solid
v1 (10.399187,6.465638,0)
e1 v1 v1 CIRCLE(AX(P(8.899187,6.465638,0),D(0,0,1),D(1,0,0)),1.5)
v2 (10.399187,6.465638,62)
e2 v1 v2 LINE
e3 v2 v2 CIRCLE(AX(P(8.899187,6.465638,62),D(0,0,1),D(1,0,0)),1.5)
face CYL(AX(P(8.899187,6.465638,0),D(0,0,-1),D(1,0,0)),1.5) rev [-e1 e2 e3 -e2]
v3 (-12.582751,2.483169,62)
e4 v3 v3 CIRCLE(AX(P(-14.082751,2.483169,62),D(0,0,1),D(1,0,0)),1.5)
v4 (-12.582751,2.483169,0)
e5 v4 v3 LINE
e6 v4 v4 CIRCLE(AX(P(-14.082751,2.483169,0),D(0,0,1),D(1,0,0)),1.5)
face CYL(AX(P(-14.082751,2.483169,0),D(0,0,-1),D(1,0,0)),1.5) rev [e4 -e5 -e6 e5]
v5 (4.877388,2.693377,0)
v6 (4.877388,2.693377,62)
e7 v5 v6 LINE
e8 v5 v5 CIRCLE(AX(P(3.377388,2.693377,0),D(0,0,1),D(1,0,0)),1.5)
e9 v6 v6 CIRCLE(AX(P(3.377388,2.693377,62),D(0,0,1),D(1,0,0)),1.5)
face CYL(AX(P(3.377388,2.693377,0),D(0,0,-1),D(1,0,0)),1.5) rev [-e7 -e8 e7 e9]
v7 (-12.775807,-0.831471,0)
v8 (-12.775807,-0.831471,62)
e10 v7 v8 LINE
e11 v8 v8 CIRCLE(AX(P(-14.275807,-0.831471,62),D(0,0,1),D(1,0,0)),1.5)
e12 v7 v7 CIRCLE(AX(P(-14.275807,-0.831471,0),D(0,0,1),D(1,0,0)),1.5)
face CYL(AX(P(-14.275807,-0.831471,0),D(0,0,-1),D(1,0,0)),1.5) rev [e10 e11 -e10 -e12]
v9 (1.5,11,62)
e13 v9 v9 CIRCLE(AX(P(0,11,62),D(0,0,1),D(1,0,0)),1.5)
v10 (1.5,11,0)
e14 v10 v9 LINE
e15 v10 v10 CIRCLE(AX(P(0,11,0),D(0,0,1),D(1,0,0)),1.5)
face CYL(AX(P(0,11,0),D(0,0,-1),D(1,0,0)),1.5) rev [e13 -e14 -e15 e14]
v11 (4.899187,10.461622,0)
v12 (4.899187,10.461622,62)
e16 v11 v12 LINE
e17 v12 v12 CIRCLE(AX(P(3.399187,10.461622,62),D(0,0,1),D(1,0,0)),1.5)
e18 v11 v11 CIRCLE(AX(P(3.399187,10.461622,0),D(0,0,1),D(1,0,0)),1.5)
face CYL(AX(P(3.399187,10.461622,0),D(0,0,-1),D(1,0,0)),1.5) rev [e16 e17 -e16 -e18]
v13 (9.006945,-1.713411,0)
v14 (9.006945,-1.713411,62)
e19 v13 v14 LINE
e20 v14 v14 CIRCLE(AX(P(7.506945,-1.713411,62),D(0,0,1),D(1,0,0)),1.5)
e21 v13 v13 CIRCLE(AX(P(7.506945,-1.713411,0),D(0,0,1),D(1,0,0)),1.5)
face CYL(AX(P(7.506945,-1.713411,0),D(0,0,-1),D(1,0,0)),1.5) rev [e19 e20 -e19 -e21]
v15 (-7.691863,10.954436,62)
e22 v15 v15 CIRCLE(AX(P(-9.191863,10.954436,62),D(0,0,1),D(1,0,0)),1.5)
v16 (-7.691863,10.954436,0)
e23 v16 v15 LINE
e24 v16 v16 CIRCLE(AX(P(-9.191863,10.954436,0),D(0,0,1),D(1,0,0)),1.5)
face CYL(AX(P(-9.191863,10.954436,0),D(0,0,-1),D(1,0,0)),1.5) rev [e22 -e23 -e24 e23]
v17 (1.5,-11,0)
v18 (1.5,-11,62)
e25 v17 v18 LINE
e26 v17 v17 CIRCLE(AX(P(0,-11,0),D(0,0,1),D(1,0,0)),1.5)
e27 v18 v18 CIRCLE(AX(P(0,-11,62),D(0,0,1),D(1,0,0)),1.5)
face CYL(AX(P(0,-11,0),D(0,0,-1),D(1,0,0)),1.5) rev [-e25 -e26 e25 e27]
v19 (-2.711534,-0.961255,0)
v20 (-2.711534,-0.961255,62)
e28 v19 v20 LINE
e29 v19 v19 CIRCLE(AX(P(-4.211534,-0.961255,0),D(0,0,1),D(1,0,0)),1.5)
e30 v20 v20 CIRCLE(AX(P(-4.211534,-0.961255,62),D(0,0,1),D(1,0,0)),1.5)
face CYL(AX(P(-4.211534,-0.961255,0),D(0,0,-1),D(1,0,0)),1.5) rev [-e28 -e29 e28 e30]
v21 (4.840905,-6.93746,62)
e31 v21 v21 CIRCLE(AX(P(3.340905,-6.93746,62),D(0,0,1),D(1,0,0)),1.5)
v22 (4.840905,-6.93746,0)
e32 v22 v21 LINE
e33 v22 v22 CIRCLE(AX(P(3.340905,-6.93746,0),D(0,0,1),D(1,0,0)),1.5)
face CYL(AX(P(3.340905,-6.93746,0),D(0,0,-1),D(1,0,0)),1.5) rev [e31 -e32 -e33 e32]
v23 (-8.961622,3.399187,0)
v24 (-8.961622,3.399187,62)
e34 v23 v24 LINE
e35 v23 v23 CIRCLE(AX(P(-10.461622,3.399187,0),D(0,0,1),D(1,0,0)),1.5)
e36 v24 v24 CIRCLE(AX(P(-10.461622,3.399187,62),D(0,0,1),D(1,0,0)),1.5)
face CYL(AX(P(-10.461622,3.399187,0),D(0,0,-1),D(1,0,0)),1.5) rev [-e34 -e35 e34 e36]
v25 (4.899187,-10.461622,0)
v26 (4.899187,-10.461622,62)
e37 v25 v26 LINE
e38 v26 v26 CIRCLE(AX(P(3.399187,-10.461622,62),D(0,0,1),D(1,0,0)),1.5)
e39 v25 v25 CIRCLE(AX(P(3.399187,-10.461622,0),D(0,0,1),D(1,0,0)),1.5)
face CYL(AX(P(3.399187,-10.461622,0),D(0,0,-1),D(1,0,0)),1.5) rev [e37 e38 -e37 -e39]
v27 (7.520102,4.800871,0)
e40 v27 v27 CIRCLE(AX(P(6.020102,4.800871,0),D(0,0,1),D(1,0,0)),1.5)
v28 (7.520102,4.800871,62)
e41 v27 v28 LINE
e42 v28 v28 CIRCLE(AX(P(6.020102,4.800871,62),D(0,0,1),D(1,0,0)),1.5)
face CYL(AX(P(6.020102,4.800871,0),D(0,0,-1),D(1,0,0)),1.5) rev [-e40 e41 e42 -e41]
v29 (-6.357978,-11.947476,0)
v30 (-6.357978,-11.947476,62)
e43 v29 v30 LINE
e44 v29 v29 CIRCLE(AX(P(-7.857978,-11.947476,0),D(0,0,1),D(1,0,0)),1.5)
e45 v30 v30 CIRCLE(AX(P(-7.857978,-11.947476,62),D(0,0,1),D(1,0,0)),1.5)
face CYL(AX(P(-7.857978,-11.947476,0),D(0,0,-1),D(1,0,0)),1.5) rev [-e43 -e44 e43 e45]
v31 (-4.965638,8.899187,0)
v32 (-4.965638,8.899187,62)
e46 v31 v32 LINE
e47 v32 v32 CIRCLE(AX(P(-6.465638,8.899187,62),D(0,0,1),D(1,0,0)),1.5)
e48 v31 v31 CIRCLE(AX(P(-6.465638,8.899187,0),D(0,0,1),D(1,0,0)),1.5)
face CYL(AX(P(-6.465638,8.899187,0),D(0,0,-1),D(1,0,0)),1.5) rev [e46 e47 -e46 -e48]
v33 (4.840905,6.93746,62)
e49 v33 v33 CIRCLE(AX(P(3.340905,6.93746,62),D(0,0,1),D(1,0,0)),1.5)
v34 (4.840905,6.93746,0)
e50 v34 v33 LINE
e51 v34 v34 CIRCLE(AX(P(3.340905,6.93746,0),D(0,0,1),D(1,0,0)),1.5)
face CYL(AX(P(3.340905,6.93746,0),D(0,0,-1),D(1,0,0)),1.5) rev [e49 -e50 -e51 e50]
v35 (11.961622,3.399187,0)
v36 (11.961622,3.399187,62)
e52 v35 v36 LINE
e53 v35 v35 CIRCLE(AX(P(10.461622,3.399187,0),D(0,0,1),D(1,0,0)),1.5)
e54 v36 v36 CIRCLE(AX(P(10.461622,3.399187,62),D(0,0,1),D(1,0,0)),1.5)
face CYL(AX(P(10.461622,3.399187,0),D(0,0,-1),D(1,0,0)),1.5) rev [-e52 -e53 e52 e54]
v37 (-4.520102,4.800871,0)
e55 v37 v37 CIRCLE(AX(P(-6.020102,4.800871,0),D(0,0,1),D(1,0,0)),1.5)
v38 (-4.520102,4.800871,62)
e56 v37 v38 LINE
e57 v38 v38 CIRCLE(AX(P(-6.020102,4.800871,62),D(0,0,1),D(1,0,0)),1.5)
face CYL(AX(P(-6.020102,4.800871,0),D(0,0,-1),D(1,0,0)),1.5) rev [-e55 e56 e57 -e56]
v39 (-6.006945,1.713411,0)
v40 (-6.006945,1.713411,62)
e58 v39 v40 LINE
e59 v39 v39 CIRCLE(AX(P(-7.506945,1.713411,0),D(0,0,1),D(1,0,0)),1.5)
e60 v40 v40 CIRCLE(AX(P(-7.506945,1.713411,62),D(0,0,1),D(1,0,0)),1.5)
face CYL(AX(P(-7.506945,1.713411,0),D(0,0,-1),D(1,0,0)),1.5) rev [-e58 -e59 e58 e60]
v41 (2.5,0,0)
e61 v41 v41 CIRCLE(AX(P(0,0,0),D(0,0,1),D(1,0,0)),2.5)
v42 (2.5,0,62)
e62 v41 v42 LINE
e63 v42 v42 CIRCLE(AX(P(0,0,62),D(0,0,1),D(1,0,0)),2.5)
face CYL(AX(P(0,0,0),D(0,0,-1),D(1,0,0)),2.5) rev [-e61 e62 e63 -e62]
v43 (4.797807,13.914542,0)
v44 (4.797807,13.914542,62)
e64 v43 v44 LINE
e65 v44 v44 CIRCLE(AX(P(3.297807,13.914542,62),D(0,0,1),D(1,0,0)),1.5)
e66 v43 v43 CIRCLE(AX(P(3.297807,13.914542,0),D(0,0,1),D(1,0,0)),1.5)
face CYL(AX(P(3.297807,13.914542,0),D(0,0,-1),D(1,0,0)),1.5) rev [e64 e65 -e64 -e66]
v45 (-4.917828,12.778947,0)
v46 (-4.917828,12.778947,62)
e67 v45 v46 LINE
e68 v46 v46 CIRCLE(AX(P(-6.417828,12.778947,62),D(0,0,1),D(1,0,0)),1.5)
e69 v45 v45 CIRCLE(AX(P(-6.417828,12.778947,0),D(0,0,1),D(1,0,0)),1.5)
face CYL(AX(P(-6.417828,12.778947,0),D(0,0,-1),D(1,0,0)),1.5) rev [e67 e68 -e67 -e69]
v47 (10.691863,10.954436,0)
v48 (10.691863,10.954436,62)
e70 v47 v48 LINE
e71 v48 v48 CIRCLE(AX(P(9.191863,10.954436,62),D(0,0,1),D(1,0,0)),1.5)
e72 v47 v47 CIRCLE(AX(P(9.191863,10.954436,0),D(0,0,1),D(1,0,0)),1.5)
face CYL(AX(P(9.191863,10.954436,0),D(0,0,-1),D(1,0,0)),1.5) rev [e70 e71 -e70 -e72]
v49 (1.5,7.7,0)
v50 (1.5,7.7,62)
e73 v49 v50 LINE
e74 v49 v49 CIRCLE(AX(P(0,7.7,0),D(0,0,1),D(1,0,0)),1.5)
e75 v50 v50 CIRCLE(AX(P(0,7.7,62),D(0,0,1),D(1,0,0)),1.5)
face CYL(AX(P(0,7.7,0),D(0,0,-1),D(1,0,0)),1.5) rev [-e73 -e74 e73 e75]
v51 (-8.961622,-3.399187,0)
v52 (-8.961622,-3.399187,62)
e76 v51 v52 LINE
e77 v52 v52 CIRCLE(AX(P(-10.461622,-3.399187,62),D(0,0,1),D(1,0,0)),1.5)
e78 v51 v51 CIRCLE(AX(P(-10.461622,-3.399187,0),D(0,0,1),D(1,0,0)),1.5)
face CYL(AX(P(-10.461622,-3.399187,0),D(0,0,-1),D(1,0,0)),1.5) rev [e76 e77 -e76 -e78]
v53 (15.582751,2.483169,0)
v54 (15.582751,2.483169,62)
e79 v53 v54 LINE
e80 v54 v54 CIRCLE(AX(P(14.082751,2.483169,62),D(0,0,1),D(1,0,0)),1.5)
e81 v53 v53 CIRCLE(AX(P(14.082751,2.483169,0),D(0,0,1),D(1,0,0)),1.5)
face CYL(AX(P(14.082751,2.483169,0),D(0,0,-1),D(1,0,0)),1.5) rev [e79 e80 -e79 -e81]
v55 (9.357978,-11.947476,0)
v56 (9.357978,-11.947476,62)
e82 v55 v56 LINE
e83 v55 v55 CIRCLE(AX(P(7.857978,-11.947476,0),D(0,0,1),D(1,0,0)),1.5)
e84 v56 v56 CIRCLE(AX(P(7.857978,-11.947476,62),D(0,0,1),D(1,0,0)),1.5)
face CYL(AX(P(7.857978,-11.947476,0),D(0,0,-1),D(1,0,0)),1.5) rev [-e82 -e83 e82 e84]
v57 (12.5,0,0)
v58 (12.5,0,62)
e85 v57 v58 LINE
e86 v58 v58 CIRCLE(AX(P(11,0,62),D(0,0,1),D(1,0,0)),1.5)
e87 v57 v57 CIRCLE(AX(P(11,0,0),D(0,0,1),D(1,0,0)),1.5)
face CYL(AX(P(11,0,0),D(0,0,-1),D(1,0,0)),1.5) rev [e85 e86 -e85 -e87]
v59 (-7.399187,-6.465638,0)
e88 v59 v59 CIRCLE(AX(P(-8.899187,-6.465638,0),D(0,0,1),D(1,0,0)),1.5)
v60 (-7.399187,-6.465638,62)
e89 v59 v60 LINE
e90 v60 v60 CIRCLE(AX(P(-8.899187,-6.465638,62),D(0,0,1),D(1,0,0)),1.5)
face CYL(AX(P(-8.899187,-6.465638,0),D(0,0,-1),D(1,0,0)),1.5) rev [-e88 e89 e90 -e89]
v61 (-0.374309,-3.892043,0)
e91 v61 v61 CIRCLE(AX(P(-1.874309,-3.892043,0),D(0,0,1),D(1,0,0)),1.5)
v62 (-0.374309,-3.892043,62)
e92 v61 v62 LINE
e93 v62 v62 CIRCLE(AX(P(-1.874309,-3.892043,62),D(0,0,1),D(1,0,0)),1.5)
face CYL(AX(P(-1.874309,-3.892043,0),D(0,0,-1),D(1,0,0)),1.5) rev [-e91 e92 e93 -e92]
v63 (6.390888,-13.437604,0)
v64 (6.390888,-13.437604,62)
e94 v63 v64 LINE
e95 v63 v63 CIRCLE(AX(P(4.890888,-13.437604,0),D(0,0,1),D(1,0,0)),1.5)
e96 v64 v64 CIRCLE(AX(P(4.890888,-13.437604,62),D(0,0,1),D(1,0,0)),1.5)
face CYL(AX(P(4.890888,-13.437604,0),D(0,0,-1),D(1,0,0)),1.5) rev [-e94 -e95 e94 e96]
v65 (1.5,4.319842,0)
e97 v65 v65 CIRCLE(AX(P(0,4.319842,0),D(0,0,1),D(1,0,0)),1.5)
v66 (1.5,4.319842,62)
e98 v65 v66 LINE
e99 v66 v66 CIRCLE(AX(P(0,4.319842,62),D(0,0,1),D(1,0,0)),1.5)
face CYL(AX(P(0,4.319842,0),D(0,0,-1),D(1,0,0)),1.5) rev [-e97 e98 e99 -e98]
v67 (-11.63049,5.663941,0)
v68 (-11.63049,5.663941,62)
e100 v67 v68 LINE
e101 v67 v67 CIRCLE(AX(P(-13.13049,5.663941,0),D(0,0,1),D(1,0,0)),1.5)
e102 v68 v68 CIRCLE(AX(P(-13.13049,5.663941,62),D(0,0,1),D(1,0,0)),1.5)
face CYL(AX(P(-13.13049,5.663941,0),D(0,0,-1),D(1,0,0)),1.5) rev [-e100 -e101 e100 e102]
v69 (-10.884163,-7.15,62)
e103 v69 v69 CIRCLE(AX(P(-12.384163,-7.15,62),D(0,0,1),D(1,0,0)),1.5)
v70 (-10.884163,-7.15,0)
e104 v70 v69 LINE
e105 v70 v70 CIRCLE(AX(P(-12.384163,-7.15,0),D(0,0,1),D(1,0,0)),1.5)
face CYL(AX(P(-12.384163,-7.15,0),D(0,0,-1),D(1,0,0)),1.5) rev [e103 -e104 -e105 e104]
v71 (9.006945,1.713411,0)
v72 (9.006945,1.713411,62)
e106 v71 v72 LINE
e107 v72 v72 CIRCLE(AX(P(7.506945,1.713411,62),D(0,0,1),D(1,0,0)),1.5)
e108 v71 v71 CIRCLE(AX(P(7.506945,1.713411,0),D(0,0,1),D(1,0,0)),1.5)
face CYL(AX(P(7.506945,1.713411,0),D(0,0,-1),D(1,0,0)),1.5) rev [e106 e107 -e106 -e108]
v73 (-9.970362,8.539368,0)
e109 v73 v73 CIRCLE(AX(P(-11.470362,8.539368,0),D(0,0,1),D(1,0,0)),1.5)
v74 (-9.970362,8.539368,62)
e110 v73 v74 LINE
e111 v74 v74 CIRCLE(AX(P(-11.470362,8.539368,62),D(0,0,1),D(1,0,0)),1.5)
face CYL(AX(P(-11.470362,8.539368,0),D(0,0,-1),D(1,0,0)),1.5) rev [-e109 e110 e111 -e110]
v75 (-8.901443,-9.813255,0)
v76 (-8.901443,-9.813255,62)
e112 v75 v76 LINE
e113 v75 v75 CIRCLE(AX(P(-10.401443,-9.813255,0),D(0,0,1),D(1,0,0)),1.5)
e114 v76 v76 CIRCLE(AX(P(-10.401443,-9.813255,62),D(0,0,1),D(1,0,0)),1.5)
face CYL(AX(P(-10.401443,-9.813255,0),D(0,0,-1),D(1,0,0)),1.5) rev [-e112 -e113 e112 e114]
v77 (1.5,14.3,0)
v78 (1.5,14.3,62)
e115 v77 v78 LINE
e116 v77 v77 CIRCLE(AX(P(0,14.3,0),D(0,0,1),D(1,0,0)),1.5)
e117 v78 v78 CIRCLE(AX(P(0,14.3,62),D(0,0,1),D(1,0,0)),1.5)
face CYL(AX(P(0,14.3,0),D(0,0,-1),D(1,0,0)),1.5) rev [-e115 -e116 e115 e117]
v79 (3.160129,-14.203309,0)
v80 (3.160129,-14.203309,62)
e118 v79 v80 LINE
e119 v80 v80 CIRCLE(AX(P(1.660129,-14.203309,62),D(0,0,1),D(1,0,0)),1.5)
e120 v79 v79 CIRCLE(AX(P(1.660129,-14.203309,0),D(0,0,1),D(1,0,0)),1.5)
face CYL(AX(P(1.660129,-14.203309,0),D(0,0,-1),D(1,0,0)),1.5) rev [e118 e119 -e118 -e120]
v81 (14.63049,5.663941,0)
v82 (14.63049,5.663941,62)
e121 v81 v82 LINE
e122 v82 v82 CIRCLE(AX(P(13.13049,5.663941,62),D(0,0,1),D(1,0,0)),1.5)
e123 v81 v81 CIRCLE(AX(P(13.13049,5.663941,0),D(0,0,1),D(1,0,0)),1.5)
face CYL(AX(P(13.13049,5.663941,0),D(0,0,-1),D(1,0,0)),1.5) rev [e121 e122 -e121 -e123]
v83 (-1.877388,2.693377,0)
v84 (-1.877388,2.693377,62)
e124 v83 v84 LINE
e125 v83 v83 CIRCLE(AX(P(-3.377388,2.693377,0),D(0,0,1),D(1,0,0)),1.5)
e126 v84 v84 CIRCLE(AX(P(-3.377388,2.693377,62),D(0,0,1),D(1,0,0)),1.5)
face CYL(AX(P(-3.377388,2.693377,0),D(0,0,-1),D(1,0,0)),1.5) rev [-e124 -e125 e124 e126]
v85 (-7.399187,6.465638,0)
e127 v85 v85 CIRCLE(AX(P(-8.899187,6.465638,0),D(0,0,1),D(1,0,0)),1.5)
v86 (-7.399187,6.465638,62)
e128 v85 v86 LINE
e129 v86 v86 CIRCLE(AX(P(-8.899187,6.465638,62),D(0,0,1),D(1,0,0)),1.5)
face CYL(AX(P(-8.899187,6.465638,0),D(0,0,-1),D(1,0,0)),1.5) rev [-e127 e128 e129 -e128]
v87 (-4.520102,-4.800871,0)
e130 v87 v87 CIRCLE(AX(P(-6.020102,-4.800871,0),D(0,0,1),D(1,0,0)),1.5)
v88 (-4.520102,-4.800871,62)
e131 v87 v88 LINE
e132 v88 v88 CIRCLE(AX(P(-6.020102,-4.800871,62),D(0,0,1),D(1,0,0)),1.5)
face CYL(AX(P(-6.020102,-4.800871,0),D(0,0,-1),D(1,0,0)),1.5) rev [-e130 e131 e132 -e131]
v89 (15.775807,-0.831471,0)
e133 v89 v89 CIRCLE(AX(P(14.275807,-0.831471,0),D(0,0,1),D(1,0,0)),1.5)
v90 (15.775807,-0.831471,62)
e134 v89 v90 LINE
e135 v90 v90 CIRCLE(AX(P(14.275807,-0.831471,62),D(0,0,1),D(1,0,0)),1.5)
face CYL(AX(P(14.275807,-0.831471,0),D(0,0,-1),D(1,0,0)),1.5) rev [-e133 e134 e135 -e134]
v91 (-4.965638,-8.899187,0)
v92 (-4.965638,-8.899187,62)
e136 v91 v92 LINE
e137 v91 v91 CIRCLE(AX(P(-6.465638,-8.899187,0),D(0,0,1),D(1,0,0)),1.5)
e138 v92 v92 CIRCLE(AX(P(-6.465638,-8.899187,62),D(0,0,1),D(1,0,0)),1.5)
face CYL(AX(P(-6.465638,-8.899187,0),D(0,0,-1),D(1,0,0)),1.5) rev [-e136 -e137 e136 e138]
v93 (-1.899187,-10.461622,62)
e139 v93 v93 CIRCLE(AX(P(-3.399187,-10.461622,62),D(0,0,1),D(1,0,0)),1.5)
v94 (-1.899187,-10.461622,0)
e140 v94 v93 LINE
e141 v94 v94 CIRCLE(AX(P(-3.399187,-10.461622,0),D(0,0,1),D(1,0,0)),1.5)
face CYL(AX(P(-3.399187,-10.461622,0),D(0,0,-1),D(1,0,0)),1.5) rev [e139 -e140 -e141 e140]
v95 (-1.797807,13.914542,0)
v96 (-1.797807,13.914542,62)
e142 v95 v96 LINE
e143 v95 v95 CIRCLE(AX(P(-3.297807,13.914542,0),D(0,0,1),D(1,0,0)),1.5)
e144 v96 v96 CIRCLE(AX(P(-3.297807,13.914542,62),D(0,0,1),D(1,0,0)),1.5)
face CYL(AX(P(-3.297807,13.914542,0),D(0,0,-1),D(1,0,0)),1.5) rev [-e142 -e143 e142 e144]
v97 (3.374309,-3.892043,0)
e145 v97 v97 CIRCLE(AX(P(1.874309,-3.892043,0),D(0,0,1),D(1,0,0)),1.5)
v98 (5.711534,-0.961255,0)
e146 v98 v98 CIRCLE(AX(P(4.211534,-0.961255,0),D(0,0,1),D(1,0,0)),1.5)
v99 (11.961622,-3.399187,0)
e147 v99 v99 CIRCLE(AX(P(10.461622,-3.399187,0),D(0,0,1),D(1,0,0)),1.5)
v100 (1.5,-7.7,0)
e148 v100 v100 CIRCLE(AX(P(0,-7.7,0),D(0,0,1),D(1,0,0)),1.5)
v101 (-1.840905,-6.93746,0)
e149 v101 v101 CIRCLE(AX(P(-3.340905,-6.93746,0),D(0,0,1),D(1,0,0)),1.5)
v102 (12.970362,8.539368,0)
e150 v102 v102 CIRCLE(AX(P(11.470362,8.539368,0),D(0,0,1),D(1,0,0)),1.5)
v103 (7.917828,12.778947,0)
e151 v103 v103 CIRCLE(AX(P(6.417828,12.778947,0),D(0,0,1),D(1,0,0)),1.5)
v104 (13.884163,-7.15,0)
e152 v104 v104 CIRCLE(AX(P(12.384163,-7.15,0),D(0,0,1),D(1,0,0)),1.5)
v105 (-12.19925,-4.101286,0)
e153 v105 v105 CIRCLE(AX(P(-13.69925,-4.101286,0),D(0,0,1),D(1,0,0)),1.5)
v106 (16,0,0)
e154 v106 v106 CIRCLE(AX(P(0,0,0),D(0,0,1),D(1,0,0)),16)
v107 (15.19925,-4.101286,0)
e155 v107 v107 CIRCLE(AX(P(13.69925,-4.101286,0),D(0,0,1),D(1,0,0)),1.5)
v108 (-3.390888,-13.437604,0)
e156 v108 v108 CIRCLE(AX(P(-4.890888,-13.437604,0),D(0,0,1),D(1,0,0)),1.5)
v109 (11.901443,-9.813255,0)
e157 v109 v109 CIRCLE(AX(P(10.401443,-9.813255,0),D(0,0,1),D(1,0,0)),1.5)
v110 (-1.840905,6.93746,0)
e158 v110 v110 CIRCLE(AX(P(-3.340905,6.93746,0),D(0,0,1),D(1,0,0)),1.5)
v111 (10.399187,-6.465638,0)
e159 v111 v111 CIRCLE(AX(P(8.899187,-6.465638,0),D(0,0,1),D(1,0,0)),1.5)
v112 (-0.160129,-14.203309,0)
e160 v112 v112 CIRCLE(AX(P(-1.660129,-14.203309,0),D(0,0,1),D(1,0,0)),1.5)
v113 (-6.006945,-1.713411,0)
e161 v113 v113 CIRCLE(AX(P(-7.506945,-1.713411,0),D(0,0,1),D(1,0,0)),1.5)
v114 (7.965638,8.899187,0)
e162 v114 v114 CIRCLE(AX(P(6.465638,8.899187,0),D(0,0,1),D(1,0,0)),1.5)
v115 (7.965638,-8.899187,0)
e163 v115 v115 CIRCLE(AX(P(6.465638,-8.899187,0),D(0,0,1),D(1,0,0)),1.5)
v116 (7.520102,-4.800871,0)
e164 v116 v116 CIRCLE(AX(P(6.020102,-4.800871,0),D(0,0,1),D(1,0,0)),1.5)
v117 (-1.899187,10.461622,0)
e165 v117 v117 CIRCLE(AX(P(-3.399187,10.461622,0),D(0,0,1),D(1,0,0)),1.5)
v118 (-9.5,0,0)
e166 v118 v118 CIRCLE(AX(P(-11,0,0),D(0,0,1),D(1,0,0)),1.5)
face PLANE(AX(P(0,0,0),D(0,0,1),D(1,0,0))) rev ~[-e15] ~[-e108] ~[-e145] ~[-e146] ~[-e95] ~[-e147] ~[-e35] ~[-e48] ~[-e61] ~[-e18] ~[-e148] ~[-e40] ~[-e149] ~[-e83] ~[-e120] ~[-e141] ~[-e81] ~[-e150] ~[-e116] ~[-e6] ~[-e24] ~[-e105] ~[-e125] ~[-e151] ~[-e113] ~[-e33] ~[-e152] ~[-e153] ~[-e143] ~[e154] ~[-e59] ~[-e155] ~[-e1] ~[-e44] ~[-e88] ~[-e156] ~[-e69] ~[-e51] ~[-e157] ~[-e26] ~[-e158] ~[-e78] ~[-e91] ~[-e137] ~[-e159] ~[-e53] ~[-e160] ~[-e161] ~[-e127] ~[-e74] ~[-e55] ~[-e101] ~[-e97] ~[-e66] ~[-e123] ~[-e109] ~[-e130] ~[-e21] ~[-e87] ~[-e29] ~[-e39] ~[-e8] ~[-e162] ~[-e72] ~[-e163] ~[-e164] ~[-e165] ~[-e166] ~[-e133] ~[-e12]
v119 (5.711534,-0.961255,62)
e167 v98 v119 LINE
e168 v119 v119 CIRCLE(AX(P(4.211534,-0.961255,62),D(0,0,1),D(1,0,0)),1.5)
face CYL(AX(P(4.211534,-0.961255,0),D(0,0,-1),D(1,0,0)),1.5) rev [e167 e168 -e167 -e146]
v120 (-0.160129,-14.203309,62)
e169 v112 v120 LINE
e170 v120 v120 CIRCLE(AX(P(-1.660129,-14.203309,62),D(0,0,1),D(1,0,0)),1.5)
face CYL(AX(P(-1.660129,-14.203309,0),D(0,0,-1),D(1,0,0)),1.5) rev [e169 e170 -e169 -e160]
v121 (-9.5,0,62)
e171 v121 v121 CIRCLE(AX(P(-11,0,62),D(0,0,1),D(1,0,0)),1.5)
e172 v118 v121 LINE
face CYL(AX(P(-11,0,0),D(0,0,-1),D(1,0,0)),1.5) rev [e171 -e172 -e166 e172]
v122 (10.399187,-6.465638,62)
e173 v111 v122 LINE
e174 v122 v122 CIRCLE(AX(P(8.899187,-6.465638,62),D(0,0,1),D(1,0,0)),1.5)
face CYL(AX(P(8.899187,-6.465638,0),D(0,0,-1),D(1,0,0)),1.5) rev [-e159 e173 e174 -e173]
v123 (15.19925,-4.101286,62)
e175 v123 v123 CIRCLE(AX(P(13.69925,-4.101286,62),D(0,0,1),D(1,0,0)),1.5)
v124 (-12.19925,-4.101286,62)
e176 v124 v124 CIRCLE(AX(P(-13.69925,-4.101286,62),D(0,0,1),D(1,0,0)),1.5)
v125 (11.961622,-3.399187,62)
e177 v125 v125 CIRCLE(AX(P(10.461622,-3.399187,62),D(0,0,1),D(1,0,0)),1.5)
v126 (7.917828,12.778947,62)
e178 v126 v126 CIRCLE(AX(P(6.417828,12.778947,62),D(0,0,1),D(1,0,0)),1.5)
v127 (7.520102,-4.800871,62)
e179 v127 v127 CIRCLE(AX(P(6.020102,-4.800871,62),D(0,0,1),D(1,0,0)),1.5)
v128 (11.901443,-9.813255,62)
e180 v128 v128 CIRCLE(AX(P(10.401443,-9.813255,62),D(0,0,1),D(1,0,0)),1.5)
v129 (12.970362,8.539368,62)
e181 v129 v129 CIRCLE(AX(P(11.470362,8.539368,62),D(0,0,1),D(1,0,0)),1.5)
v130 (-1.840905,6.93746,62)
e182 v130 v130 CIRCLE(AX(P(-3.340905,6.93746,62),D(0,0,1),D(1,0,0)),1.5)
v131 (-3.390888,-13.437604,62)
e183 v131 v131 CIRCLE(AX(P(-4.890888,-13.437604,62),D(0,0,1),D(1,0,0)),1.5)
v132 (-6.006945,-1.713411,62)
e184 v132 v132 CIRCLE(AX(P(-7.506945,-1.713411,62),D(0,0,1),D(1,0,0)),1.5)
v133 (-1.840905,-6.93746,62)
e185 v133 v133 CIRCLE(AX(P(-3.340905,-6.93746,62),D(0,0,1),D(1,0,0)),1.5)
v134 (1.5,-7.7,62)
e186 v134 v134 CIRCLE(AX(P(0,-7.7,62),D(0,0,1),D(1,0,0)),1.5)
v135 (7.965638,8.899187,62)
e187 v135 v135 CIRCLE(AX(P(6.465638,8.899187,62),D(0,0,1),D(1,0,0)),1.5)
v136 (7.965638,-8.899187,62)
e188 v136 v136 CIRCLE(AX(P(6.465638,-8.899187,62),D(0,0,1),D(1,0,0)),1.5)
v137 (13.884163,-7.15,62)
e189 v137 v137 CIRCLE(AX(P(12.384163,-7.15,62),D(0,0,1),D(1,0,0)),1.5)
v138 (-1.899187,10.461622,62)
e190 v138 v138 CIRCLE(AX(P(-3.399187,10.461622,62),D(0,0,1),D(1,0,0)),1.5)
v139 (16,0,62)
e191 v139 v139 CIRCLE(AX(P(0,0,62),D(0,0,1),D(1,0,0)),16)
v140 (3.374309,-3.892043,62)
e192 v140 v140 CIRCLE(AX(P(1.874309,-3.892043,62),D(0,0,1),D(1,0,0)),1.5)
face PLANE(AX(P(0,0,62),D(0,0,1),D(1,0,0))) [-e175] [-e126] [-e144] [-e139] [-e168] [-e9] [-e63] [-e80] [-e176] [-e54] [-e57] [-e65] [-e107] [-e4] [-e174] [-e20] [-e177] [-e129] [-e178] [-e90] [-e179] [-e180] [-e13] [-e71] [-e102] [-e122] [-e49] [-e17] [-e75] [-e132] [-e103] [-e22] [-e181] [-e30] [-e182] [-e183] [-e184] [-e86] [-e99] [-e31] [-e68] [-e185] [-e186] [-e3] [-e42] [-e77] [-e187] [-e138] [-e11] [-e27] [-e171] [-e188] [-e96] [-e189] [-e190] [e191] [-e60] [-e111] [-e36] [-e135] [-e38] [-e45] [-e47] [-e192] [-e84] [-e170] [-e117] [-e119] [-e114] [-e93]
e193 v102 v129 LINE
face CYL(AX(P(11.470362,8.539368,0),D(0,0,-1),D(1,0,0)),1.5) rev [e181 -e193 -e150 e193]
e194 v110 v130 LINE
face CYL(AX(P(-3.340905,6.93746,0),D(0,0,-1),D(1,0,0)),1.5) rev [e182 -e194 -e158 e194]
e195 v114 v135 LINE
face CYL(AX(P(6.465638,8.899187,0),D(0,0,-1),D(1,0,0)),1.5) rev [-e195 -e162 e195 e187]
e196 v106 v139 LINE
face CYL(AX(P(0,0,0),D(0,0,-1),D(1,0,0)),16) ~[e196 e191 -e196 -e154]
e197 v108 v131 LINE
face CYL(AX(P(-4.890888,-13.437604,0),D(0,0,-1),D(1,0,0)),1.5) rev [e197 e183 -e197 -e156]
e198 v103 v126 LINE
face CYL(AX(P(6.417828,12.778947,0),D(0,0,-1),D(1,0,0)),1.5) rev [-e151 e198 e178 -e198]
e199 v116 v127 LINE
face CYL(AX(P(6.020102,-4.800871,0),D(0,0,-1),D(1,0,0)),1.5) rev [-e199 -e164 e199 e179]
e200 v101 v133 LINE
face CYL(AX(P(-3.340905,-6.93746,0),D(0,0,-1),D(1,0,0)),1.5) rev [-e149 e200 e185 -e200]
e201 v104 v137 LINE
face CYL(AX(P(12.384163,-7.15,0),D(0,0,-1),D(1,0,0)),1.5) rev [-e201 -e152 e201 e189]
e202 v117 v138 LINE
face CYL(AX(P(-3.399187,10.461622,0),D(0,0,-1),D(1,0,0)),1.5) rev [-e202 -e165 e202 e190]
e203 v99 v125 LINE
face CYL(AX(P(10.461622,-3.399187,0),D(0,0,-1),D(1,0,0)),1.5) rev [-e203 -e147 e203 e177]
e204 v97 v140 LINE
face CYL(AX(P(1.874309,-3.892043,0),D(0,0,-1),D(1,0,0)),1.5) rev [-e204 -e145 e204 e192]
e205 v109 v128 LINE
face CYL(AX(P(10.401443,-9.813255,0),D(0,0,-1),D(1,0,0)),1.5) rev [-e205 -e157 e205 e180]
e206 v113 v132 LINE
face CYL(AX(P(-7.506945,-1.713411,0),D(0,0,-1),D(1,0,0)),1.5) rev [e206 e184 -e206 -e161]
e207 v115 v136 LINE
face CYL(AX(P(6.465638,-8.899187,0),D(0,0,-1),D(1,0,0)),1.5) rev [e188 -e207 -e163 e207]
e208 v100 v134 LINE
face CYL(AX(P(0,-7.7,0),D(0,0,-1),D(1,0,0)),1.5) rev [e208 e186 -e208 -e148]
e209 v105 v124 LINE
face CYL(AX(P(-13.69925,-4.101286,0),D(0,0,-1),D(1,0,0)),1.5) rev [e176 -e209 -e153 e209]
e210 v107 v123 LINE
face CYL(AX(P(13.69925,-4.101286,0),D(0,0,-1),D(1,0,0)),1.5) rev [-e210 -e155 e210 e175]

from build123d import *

# Parameters (mm, degrees)
F0_R     = 16
F0_R_2   = 1.5
F0_R_3   = 2.5
F1_DEPTH = 62


with BuildPart() as f1:
    # F0 (on Top) → F1 (new body)
    with BuildSketch(Plane.XY):
        Circle(F0_R)
        with Locations((-10.401443, -9.813255)):
            Circle(F0_R_2, mode=Mode.SUBTRACT)
        with Locations((-4.890888, -13.437604)):
            Circle(F0_R_2, mode=Mode.SUBTRACT)
        with Locations((-1.660129, -14.203309)):
            Circle(F0_R_2, mode=Mode.SUBTRACT)
        with Locations((-7.857978, -11.947476)):
            Circle(F0_R_2, mode=Mode.SUBTRACT)
        with Locations((-6.465638, -8.899187)):
            Circle(F0_R_2, mode=Mode.SUBTRACT)
        with Locations((-3.399187, -10.461622)):
            Circle(F0_R_2, mode=Mode.SUBTRACT)
        with Locations((-12.384163, -7.15)):
            Circle(F0_R_2, mode=Mode.SUBTRACT)
        with Locations((-13.69925, -4.101286)):
            Circle(F0_R_2, mode=Mode.SUBTRACT)
        with Locations((-8.899187, -6.465638)):
            Circle(F0_R_2, mode=Mode.SUBTRACT)
        with Locations((-14.275807, -0.831471)):
            Circle(F0_R_2, mode=Mode.SUBTRACT)
        with Locations((-10.461622, -3.399187)):
            Circle(F0_R_2, mode=Mode.SUBTRACT)
        with Locations((-6.020102, -4.800871)):
            Circle(F0_R_2, mode=Mode.SUBTRACT)
        with Locations((-3.340905, -6.93746)):
            Circle(F0_R_2, mode=Mode.SUBTRACT)
        with Locations((-7.506945, -1.713411)):
            Circle(F0_R_2, mode=Mode.SUBTRACT)
        with Locations((-4.211534, -0.961255)):
            Circle(F0_R_2, mode=Mode.SUBTRACT)
        with Locations((-1.874309, -3.892043)):
            Circle(F0_R_2, mode=Mode.SUBTRACT)
        with Locations((1.660129, -14.203309)):
            Circle(F0_R_2, mode=Mode.SUBTRACT)
        with Locations((4.890888, -13.437604)):
            Circle(F0_R_2, mode=Mode.SUBTRACT)
        with Locations((0, -11)):
            Circle(F0_R_2, mode=Mode.SUBTRACT)
        with Locations((3.399187, -10.461622)):
            Circle(F0_R_2, mode=Mode.SUBTRACT)
        with Locations((7.857978, -11.947476)):
            Circle(F0_R_2, mode=Mode.SUBTRACT)
        with Locations((6.465638, -8.899187)):
            Circle(F0_R_2, mode=Mode.SUBTRACT)
        with Locations((10.401443, -9.813255)):
            Circle(F0_R_2, mode=Mode.SUBTRACT)
        with Locations((0, -7.7)):
            Circle(F0_R_2, mode=Mode.SUBTRACT)
        with Locations((3.340905, -6.93746)):
            Circle(F0_R_2, mode=Mode.SUBTRACT)
        with Locations((6.020102, -4.800871)):
            Circle(F0_R_2, mode=Mode.SUBTRACT)
        with Locations((1.874309, -3.892043)):
            Circle(F0_R_2, mode=Mode.SUBTRACT)
        with Locations((4.211534, -0.961255)):
            Circle(F0_R_2, mode=Mode.SUBTRACT)
        with Locations((7.506945, -1.713411)):
            Circle(F0_R_2, mode=Mode.SUBTRACT)
        with Locations((8.899187, -6.465638)):
            Circle(F0_R_2, mode=Mode.SUBTRACT)
        with Locations((12.384163, -7.15)):
            Circle(F0_R_2, mode=Mode.SUBTRACT)
        with Locations((13.69925, -4.101286)):
            Circle(F0_R_2, mode=Mode.SUBTRACT)
        with Locations((10.461622, -3.399187)):
            Circle(F0_R_2, mode=Mode.SUBTRACT)
        with Locations((14.275807, -0.831471)):
            Circle(F0_R_2, mode=Mode.SUBTRACT)
        with Locations((-14.082751, 2.483169)):
            Circle(F0_R_2, mode=Mode.SUBTRACT)
        with Locations((-11, 0)):
            Circle(F0_R_2, mode=Mode.SUBTRACT)
        with Locations((-10.461622, 3.399187)):
            Circle(F0_R_2, mode=Mode.SUBTRACT)
        with Locations((-13.13049, 5.663941)):
            Circle(F0_R_2, mode=Mode.SUBTRACT)
        with Locations((-8.899187, 6.465638)):
            Circle(F0_R_2, mode=Mode.SUBTRACT)
        with Locations((-7.506945, 1.713411)):
            Circle(F0_R_2, mode=Mode.SUBTRACT)
        with Locations((-3.377388, 2.693377)):
            Circle(F0_R_2, mode=Mode.SUBTRACT)
        with Locations((-6.020102, 4.800871)):
            Circle(F0_R_2, mode=Mode.SUBTRACT)
        with Locations((-3.340905, 6.93746)):
            Circle(F0_R_2, mode=Mode.SUBTRACT)
        with Locations((-11.470362, 8.539368)):
            Circle(F0_R_2, mode=Mode.SUBTRACT)
        with Locations((-9.191863, 10.954436)):
            Circle(F0_R_2, mode=Mode.SUBTRACT)
        with Locations((-6.465638, 8.899187)):
            Circle(F0_R_2, mode=Mode.SUBTRACT)
        with Locations((-3.399187, 10.461622)):
            Circle(F0_R_2, mode=Mode.SUBTRACT)
        with Locations((-6.417828, 12.778947)):
            Circle(F0_R_2, mode=Mode.SUBTRACT)
        with Locations((-3.297807, 13.914542)):
            Circle(F0_R_2, mode=Mode.SUBTRACT)
        Circle(F0_R_3, mode=Mode.SUBTRACT)
        with Locations((3.377388, 2.693377)):
            Circle(F0_R_2, mode=Mode.SUBTRACT)
        with Locations((7.506945, 1.713411)):
            Circle(F0_R_2, mode=Mode.SUBTRACT)
        with Locations((0, 4.319842)):
            Circle(F0_R_2, mode=Mode.SUBTRACT)
        with Locations((0, 7.7)):
            Circle(F0_R_2, mode=Mode.SUBTRACT)
        with Locations((3.340905, 6.93746)):
            Circle(F0_R_2, mode=Mode.SUBTRACT)
        with Locations((6.020102, 4.800871)):
            Circle(F0_R_2, mode=Mode.SUBTRACT)
        with Locations((11, 0)):
            Circle(F0_R_2, mode=Mode.SUBTRACT)
        with Locations((10.461622, 3.399187)):
            Circle(F0_R_2, mode=Mode.SUBTRACT)
        with Locations((14.082751, 2.483169)):
            Circle(F0_R_2, mode=Mode.SUBTRACT)
        with Locations((8.899187, 6.465638)):
            Circle(F0_R_2, mode=Mode.SUBTRACT)
        with Locations((13.13049, 5.663941)):
            Circle(F0_R_2, mode=Mode.SUBTRACT)
        with Locations((0, 11)):
            Circle(F0_R_2, mode=Mode.SUBTRACT)
        with Locations((3.399187, 10.461622)):
            Circle(F0_R_2, mode=Mode.SUBTRACT)
        with Locations((6.465638, 8.899187)):
            Circle(F0_R_2, mode=Mode.SUBTRACT)
        with Locations((3.297807, 13.914542)):
            Circle(F0_R_2, mode=Mode.SUBTRACT)
        with Locations((0, 14.3)):
            Circle(F0_R_2, mode=Mode.SUBTRACT)
        with Locations((6.417828, 12.778947)):
            Circle(F0_R_2, mode=Mode.SUBTRACT)
        with Locations((11.470362, 8.539368)):
            Circle(F0_R_2, mode=Mode.SUBTRACT)
        with Locations((9.191863, 10.954436)):
            Circle(F0_R_2, mode=Mode.SUBTRACT)
    extrude(amount=F1_DEPTH)


solid = f1.part
